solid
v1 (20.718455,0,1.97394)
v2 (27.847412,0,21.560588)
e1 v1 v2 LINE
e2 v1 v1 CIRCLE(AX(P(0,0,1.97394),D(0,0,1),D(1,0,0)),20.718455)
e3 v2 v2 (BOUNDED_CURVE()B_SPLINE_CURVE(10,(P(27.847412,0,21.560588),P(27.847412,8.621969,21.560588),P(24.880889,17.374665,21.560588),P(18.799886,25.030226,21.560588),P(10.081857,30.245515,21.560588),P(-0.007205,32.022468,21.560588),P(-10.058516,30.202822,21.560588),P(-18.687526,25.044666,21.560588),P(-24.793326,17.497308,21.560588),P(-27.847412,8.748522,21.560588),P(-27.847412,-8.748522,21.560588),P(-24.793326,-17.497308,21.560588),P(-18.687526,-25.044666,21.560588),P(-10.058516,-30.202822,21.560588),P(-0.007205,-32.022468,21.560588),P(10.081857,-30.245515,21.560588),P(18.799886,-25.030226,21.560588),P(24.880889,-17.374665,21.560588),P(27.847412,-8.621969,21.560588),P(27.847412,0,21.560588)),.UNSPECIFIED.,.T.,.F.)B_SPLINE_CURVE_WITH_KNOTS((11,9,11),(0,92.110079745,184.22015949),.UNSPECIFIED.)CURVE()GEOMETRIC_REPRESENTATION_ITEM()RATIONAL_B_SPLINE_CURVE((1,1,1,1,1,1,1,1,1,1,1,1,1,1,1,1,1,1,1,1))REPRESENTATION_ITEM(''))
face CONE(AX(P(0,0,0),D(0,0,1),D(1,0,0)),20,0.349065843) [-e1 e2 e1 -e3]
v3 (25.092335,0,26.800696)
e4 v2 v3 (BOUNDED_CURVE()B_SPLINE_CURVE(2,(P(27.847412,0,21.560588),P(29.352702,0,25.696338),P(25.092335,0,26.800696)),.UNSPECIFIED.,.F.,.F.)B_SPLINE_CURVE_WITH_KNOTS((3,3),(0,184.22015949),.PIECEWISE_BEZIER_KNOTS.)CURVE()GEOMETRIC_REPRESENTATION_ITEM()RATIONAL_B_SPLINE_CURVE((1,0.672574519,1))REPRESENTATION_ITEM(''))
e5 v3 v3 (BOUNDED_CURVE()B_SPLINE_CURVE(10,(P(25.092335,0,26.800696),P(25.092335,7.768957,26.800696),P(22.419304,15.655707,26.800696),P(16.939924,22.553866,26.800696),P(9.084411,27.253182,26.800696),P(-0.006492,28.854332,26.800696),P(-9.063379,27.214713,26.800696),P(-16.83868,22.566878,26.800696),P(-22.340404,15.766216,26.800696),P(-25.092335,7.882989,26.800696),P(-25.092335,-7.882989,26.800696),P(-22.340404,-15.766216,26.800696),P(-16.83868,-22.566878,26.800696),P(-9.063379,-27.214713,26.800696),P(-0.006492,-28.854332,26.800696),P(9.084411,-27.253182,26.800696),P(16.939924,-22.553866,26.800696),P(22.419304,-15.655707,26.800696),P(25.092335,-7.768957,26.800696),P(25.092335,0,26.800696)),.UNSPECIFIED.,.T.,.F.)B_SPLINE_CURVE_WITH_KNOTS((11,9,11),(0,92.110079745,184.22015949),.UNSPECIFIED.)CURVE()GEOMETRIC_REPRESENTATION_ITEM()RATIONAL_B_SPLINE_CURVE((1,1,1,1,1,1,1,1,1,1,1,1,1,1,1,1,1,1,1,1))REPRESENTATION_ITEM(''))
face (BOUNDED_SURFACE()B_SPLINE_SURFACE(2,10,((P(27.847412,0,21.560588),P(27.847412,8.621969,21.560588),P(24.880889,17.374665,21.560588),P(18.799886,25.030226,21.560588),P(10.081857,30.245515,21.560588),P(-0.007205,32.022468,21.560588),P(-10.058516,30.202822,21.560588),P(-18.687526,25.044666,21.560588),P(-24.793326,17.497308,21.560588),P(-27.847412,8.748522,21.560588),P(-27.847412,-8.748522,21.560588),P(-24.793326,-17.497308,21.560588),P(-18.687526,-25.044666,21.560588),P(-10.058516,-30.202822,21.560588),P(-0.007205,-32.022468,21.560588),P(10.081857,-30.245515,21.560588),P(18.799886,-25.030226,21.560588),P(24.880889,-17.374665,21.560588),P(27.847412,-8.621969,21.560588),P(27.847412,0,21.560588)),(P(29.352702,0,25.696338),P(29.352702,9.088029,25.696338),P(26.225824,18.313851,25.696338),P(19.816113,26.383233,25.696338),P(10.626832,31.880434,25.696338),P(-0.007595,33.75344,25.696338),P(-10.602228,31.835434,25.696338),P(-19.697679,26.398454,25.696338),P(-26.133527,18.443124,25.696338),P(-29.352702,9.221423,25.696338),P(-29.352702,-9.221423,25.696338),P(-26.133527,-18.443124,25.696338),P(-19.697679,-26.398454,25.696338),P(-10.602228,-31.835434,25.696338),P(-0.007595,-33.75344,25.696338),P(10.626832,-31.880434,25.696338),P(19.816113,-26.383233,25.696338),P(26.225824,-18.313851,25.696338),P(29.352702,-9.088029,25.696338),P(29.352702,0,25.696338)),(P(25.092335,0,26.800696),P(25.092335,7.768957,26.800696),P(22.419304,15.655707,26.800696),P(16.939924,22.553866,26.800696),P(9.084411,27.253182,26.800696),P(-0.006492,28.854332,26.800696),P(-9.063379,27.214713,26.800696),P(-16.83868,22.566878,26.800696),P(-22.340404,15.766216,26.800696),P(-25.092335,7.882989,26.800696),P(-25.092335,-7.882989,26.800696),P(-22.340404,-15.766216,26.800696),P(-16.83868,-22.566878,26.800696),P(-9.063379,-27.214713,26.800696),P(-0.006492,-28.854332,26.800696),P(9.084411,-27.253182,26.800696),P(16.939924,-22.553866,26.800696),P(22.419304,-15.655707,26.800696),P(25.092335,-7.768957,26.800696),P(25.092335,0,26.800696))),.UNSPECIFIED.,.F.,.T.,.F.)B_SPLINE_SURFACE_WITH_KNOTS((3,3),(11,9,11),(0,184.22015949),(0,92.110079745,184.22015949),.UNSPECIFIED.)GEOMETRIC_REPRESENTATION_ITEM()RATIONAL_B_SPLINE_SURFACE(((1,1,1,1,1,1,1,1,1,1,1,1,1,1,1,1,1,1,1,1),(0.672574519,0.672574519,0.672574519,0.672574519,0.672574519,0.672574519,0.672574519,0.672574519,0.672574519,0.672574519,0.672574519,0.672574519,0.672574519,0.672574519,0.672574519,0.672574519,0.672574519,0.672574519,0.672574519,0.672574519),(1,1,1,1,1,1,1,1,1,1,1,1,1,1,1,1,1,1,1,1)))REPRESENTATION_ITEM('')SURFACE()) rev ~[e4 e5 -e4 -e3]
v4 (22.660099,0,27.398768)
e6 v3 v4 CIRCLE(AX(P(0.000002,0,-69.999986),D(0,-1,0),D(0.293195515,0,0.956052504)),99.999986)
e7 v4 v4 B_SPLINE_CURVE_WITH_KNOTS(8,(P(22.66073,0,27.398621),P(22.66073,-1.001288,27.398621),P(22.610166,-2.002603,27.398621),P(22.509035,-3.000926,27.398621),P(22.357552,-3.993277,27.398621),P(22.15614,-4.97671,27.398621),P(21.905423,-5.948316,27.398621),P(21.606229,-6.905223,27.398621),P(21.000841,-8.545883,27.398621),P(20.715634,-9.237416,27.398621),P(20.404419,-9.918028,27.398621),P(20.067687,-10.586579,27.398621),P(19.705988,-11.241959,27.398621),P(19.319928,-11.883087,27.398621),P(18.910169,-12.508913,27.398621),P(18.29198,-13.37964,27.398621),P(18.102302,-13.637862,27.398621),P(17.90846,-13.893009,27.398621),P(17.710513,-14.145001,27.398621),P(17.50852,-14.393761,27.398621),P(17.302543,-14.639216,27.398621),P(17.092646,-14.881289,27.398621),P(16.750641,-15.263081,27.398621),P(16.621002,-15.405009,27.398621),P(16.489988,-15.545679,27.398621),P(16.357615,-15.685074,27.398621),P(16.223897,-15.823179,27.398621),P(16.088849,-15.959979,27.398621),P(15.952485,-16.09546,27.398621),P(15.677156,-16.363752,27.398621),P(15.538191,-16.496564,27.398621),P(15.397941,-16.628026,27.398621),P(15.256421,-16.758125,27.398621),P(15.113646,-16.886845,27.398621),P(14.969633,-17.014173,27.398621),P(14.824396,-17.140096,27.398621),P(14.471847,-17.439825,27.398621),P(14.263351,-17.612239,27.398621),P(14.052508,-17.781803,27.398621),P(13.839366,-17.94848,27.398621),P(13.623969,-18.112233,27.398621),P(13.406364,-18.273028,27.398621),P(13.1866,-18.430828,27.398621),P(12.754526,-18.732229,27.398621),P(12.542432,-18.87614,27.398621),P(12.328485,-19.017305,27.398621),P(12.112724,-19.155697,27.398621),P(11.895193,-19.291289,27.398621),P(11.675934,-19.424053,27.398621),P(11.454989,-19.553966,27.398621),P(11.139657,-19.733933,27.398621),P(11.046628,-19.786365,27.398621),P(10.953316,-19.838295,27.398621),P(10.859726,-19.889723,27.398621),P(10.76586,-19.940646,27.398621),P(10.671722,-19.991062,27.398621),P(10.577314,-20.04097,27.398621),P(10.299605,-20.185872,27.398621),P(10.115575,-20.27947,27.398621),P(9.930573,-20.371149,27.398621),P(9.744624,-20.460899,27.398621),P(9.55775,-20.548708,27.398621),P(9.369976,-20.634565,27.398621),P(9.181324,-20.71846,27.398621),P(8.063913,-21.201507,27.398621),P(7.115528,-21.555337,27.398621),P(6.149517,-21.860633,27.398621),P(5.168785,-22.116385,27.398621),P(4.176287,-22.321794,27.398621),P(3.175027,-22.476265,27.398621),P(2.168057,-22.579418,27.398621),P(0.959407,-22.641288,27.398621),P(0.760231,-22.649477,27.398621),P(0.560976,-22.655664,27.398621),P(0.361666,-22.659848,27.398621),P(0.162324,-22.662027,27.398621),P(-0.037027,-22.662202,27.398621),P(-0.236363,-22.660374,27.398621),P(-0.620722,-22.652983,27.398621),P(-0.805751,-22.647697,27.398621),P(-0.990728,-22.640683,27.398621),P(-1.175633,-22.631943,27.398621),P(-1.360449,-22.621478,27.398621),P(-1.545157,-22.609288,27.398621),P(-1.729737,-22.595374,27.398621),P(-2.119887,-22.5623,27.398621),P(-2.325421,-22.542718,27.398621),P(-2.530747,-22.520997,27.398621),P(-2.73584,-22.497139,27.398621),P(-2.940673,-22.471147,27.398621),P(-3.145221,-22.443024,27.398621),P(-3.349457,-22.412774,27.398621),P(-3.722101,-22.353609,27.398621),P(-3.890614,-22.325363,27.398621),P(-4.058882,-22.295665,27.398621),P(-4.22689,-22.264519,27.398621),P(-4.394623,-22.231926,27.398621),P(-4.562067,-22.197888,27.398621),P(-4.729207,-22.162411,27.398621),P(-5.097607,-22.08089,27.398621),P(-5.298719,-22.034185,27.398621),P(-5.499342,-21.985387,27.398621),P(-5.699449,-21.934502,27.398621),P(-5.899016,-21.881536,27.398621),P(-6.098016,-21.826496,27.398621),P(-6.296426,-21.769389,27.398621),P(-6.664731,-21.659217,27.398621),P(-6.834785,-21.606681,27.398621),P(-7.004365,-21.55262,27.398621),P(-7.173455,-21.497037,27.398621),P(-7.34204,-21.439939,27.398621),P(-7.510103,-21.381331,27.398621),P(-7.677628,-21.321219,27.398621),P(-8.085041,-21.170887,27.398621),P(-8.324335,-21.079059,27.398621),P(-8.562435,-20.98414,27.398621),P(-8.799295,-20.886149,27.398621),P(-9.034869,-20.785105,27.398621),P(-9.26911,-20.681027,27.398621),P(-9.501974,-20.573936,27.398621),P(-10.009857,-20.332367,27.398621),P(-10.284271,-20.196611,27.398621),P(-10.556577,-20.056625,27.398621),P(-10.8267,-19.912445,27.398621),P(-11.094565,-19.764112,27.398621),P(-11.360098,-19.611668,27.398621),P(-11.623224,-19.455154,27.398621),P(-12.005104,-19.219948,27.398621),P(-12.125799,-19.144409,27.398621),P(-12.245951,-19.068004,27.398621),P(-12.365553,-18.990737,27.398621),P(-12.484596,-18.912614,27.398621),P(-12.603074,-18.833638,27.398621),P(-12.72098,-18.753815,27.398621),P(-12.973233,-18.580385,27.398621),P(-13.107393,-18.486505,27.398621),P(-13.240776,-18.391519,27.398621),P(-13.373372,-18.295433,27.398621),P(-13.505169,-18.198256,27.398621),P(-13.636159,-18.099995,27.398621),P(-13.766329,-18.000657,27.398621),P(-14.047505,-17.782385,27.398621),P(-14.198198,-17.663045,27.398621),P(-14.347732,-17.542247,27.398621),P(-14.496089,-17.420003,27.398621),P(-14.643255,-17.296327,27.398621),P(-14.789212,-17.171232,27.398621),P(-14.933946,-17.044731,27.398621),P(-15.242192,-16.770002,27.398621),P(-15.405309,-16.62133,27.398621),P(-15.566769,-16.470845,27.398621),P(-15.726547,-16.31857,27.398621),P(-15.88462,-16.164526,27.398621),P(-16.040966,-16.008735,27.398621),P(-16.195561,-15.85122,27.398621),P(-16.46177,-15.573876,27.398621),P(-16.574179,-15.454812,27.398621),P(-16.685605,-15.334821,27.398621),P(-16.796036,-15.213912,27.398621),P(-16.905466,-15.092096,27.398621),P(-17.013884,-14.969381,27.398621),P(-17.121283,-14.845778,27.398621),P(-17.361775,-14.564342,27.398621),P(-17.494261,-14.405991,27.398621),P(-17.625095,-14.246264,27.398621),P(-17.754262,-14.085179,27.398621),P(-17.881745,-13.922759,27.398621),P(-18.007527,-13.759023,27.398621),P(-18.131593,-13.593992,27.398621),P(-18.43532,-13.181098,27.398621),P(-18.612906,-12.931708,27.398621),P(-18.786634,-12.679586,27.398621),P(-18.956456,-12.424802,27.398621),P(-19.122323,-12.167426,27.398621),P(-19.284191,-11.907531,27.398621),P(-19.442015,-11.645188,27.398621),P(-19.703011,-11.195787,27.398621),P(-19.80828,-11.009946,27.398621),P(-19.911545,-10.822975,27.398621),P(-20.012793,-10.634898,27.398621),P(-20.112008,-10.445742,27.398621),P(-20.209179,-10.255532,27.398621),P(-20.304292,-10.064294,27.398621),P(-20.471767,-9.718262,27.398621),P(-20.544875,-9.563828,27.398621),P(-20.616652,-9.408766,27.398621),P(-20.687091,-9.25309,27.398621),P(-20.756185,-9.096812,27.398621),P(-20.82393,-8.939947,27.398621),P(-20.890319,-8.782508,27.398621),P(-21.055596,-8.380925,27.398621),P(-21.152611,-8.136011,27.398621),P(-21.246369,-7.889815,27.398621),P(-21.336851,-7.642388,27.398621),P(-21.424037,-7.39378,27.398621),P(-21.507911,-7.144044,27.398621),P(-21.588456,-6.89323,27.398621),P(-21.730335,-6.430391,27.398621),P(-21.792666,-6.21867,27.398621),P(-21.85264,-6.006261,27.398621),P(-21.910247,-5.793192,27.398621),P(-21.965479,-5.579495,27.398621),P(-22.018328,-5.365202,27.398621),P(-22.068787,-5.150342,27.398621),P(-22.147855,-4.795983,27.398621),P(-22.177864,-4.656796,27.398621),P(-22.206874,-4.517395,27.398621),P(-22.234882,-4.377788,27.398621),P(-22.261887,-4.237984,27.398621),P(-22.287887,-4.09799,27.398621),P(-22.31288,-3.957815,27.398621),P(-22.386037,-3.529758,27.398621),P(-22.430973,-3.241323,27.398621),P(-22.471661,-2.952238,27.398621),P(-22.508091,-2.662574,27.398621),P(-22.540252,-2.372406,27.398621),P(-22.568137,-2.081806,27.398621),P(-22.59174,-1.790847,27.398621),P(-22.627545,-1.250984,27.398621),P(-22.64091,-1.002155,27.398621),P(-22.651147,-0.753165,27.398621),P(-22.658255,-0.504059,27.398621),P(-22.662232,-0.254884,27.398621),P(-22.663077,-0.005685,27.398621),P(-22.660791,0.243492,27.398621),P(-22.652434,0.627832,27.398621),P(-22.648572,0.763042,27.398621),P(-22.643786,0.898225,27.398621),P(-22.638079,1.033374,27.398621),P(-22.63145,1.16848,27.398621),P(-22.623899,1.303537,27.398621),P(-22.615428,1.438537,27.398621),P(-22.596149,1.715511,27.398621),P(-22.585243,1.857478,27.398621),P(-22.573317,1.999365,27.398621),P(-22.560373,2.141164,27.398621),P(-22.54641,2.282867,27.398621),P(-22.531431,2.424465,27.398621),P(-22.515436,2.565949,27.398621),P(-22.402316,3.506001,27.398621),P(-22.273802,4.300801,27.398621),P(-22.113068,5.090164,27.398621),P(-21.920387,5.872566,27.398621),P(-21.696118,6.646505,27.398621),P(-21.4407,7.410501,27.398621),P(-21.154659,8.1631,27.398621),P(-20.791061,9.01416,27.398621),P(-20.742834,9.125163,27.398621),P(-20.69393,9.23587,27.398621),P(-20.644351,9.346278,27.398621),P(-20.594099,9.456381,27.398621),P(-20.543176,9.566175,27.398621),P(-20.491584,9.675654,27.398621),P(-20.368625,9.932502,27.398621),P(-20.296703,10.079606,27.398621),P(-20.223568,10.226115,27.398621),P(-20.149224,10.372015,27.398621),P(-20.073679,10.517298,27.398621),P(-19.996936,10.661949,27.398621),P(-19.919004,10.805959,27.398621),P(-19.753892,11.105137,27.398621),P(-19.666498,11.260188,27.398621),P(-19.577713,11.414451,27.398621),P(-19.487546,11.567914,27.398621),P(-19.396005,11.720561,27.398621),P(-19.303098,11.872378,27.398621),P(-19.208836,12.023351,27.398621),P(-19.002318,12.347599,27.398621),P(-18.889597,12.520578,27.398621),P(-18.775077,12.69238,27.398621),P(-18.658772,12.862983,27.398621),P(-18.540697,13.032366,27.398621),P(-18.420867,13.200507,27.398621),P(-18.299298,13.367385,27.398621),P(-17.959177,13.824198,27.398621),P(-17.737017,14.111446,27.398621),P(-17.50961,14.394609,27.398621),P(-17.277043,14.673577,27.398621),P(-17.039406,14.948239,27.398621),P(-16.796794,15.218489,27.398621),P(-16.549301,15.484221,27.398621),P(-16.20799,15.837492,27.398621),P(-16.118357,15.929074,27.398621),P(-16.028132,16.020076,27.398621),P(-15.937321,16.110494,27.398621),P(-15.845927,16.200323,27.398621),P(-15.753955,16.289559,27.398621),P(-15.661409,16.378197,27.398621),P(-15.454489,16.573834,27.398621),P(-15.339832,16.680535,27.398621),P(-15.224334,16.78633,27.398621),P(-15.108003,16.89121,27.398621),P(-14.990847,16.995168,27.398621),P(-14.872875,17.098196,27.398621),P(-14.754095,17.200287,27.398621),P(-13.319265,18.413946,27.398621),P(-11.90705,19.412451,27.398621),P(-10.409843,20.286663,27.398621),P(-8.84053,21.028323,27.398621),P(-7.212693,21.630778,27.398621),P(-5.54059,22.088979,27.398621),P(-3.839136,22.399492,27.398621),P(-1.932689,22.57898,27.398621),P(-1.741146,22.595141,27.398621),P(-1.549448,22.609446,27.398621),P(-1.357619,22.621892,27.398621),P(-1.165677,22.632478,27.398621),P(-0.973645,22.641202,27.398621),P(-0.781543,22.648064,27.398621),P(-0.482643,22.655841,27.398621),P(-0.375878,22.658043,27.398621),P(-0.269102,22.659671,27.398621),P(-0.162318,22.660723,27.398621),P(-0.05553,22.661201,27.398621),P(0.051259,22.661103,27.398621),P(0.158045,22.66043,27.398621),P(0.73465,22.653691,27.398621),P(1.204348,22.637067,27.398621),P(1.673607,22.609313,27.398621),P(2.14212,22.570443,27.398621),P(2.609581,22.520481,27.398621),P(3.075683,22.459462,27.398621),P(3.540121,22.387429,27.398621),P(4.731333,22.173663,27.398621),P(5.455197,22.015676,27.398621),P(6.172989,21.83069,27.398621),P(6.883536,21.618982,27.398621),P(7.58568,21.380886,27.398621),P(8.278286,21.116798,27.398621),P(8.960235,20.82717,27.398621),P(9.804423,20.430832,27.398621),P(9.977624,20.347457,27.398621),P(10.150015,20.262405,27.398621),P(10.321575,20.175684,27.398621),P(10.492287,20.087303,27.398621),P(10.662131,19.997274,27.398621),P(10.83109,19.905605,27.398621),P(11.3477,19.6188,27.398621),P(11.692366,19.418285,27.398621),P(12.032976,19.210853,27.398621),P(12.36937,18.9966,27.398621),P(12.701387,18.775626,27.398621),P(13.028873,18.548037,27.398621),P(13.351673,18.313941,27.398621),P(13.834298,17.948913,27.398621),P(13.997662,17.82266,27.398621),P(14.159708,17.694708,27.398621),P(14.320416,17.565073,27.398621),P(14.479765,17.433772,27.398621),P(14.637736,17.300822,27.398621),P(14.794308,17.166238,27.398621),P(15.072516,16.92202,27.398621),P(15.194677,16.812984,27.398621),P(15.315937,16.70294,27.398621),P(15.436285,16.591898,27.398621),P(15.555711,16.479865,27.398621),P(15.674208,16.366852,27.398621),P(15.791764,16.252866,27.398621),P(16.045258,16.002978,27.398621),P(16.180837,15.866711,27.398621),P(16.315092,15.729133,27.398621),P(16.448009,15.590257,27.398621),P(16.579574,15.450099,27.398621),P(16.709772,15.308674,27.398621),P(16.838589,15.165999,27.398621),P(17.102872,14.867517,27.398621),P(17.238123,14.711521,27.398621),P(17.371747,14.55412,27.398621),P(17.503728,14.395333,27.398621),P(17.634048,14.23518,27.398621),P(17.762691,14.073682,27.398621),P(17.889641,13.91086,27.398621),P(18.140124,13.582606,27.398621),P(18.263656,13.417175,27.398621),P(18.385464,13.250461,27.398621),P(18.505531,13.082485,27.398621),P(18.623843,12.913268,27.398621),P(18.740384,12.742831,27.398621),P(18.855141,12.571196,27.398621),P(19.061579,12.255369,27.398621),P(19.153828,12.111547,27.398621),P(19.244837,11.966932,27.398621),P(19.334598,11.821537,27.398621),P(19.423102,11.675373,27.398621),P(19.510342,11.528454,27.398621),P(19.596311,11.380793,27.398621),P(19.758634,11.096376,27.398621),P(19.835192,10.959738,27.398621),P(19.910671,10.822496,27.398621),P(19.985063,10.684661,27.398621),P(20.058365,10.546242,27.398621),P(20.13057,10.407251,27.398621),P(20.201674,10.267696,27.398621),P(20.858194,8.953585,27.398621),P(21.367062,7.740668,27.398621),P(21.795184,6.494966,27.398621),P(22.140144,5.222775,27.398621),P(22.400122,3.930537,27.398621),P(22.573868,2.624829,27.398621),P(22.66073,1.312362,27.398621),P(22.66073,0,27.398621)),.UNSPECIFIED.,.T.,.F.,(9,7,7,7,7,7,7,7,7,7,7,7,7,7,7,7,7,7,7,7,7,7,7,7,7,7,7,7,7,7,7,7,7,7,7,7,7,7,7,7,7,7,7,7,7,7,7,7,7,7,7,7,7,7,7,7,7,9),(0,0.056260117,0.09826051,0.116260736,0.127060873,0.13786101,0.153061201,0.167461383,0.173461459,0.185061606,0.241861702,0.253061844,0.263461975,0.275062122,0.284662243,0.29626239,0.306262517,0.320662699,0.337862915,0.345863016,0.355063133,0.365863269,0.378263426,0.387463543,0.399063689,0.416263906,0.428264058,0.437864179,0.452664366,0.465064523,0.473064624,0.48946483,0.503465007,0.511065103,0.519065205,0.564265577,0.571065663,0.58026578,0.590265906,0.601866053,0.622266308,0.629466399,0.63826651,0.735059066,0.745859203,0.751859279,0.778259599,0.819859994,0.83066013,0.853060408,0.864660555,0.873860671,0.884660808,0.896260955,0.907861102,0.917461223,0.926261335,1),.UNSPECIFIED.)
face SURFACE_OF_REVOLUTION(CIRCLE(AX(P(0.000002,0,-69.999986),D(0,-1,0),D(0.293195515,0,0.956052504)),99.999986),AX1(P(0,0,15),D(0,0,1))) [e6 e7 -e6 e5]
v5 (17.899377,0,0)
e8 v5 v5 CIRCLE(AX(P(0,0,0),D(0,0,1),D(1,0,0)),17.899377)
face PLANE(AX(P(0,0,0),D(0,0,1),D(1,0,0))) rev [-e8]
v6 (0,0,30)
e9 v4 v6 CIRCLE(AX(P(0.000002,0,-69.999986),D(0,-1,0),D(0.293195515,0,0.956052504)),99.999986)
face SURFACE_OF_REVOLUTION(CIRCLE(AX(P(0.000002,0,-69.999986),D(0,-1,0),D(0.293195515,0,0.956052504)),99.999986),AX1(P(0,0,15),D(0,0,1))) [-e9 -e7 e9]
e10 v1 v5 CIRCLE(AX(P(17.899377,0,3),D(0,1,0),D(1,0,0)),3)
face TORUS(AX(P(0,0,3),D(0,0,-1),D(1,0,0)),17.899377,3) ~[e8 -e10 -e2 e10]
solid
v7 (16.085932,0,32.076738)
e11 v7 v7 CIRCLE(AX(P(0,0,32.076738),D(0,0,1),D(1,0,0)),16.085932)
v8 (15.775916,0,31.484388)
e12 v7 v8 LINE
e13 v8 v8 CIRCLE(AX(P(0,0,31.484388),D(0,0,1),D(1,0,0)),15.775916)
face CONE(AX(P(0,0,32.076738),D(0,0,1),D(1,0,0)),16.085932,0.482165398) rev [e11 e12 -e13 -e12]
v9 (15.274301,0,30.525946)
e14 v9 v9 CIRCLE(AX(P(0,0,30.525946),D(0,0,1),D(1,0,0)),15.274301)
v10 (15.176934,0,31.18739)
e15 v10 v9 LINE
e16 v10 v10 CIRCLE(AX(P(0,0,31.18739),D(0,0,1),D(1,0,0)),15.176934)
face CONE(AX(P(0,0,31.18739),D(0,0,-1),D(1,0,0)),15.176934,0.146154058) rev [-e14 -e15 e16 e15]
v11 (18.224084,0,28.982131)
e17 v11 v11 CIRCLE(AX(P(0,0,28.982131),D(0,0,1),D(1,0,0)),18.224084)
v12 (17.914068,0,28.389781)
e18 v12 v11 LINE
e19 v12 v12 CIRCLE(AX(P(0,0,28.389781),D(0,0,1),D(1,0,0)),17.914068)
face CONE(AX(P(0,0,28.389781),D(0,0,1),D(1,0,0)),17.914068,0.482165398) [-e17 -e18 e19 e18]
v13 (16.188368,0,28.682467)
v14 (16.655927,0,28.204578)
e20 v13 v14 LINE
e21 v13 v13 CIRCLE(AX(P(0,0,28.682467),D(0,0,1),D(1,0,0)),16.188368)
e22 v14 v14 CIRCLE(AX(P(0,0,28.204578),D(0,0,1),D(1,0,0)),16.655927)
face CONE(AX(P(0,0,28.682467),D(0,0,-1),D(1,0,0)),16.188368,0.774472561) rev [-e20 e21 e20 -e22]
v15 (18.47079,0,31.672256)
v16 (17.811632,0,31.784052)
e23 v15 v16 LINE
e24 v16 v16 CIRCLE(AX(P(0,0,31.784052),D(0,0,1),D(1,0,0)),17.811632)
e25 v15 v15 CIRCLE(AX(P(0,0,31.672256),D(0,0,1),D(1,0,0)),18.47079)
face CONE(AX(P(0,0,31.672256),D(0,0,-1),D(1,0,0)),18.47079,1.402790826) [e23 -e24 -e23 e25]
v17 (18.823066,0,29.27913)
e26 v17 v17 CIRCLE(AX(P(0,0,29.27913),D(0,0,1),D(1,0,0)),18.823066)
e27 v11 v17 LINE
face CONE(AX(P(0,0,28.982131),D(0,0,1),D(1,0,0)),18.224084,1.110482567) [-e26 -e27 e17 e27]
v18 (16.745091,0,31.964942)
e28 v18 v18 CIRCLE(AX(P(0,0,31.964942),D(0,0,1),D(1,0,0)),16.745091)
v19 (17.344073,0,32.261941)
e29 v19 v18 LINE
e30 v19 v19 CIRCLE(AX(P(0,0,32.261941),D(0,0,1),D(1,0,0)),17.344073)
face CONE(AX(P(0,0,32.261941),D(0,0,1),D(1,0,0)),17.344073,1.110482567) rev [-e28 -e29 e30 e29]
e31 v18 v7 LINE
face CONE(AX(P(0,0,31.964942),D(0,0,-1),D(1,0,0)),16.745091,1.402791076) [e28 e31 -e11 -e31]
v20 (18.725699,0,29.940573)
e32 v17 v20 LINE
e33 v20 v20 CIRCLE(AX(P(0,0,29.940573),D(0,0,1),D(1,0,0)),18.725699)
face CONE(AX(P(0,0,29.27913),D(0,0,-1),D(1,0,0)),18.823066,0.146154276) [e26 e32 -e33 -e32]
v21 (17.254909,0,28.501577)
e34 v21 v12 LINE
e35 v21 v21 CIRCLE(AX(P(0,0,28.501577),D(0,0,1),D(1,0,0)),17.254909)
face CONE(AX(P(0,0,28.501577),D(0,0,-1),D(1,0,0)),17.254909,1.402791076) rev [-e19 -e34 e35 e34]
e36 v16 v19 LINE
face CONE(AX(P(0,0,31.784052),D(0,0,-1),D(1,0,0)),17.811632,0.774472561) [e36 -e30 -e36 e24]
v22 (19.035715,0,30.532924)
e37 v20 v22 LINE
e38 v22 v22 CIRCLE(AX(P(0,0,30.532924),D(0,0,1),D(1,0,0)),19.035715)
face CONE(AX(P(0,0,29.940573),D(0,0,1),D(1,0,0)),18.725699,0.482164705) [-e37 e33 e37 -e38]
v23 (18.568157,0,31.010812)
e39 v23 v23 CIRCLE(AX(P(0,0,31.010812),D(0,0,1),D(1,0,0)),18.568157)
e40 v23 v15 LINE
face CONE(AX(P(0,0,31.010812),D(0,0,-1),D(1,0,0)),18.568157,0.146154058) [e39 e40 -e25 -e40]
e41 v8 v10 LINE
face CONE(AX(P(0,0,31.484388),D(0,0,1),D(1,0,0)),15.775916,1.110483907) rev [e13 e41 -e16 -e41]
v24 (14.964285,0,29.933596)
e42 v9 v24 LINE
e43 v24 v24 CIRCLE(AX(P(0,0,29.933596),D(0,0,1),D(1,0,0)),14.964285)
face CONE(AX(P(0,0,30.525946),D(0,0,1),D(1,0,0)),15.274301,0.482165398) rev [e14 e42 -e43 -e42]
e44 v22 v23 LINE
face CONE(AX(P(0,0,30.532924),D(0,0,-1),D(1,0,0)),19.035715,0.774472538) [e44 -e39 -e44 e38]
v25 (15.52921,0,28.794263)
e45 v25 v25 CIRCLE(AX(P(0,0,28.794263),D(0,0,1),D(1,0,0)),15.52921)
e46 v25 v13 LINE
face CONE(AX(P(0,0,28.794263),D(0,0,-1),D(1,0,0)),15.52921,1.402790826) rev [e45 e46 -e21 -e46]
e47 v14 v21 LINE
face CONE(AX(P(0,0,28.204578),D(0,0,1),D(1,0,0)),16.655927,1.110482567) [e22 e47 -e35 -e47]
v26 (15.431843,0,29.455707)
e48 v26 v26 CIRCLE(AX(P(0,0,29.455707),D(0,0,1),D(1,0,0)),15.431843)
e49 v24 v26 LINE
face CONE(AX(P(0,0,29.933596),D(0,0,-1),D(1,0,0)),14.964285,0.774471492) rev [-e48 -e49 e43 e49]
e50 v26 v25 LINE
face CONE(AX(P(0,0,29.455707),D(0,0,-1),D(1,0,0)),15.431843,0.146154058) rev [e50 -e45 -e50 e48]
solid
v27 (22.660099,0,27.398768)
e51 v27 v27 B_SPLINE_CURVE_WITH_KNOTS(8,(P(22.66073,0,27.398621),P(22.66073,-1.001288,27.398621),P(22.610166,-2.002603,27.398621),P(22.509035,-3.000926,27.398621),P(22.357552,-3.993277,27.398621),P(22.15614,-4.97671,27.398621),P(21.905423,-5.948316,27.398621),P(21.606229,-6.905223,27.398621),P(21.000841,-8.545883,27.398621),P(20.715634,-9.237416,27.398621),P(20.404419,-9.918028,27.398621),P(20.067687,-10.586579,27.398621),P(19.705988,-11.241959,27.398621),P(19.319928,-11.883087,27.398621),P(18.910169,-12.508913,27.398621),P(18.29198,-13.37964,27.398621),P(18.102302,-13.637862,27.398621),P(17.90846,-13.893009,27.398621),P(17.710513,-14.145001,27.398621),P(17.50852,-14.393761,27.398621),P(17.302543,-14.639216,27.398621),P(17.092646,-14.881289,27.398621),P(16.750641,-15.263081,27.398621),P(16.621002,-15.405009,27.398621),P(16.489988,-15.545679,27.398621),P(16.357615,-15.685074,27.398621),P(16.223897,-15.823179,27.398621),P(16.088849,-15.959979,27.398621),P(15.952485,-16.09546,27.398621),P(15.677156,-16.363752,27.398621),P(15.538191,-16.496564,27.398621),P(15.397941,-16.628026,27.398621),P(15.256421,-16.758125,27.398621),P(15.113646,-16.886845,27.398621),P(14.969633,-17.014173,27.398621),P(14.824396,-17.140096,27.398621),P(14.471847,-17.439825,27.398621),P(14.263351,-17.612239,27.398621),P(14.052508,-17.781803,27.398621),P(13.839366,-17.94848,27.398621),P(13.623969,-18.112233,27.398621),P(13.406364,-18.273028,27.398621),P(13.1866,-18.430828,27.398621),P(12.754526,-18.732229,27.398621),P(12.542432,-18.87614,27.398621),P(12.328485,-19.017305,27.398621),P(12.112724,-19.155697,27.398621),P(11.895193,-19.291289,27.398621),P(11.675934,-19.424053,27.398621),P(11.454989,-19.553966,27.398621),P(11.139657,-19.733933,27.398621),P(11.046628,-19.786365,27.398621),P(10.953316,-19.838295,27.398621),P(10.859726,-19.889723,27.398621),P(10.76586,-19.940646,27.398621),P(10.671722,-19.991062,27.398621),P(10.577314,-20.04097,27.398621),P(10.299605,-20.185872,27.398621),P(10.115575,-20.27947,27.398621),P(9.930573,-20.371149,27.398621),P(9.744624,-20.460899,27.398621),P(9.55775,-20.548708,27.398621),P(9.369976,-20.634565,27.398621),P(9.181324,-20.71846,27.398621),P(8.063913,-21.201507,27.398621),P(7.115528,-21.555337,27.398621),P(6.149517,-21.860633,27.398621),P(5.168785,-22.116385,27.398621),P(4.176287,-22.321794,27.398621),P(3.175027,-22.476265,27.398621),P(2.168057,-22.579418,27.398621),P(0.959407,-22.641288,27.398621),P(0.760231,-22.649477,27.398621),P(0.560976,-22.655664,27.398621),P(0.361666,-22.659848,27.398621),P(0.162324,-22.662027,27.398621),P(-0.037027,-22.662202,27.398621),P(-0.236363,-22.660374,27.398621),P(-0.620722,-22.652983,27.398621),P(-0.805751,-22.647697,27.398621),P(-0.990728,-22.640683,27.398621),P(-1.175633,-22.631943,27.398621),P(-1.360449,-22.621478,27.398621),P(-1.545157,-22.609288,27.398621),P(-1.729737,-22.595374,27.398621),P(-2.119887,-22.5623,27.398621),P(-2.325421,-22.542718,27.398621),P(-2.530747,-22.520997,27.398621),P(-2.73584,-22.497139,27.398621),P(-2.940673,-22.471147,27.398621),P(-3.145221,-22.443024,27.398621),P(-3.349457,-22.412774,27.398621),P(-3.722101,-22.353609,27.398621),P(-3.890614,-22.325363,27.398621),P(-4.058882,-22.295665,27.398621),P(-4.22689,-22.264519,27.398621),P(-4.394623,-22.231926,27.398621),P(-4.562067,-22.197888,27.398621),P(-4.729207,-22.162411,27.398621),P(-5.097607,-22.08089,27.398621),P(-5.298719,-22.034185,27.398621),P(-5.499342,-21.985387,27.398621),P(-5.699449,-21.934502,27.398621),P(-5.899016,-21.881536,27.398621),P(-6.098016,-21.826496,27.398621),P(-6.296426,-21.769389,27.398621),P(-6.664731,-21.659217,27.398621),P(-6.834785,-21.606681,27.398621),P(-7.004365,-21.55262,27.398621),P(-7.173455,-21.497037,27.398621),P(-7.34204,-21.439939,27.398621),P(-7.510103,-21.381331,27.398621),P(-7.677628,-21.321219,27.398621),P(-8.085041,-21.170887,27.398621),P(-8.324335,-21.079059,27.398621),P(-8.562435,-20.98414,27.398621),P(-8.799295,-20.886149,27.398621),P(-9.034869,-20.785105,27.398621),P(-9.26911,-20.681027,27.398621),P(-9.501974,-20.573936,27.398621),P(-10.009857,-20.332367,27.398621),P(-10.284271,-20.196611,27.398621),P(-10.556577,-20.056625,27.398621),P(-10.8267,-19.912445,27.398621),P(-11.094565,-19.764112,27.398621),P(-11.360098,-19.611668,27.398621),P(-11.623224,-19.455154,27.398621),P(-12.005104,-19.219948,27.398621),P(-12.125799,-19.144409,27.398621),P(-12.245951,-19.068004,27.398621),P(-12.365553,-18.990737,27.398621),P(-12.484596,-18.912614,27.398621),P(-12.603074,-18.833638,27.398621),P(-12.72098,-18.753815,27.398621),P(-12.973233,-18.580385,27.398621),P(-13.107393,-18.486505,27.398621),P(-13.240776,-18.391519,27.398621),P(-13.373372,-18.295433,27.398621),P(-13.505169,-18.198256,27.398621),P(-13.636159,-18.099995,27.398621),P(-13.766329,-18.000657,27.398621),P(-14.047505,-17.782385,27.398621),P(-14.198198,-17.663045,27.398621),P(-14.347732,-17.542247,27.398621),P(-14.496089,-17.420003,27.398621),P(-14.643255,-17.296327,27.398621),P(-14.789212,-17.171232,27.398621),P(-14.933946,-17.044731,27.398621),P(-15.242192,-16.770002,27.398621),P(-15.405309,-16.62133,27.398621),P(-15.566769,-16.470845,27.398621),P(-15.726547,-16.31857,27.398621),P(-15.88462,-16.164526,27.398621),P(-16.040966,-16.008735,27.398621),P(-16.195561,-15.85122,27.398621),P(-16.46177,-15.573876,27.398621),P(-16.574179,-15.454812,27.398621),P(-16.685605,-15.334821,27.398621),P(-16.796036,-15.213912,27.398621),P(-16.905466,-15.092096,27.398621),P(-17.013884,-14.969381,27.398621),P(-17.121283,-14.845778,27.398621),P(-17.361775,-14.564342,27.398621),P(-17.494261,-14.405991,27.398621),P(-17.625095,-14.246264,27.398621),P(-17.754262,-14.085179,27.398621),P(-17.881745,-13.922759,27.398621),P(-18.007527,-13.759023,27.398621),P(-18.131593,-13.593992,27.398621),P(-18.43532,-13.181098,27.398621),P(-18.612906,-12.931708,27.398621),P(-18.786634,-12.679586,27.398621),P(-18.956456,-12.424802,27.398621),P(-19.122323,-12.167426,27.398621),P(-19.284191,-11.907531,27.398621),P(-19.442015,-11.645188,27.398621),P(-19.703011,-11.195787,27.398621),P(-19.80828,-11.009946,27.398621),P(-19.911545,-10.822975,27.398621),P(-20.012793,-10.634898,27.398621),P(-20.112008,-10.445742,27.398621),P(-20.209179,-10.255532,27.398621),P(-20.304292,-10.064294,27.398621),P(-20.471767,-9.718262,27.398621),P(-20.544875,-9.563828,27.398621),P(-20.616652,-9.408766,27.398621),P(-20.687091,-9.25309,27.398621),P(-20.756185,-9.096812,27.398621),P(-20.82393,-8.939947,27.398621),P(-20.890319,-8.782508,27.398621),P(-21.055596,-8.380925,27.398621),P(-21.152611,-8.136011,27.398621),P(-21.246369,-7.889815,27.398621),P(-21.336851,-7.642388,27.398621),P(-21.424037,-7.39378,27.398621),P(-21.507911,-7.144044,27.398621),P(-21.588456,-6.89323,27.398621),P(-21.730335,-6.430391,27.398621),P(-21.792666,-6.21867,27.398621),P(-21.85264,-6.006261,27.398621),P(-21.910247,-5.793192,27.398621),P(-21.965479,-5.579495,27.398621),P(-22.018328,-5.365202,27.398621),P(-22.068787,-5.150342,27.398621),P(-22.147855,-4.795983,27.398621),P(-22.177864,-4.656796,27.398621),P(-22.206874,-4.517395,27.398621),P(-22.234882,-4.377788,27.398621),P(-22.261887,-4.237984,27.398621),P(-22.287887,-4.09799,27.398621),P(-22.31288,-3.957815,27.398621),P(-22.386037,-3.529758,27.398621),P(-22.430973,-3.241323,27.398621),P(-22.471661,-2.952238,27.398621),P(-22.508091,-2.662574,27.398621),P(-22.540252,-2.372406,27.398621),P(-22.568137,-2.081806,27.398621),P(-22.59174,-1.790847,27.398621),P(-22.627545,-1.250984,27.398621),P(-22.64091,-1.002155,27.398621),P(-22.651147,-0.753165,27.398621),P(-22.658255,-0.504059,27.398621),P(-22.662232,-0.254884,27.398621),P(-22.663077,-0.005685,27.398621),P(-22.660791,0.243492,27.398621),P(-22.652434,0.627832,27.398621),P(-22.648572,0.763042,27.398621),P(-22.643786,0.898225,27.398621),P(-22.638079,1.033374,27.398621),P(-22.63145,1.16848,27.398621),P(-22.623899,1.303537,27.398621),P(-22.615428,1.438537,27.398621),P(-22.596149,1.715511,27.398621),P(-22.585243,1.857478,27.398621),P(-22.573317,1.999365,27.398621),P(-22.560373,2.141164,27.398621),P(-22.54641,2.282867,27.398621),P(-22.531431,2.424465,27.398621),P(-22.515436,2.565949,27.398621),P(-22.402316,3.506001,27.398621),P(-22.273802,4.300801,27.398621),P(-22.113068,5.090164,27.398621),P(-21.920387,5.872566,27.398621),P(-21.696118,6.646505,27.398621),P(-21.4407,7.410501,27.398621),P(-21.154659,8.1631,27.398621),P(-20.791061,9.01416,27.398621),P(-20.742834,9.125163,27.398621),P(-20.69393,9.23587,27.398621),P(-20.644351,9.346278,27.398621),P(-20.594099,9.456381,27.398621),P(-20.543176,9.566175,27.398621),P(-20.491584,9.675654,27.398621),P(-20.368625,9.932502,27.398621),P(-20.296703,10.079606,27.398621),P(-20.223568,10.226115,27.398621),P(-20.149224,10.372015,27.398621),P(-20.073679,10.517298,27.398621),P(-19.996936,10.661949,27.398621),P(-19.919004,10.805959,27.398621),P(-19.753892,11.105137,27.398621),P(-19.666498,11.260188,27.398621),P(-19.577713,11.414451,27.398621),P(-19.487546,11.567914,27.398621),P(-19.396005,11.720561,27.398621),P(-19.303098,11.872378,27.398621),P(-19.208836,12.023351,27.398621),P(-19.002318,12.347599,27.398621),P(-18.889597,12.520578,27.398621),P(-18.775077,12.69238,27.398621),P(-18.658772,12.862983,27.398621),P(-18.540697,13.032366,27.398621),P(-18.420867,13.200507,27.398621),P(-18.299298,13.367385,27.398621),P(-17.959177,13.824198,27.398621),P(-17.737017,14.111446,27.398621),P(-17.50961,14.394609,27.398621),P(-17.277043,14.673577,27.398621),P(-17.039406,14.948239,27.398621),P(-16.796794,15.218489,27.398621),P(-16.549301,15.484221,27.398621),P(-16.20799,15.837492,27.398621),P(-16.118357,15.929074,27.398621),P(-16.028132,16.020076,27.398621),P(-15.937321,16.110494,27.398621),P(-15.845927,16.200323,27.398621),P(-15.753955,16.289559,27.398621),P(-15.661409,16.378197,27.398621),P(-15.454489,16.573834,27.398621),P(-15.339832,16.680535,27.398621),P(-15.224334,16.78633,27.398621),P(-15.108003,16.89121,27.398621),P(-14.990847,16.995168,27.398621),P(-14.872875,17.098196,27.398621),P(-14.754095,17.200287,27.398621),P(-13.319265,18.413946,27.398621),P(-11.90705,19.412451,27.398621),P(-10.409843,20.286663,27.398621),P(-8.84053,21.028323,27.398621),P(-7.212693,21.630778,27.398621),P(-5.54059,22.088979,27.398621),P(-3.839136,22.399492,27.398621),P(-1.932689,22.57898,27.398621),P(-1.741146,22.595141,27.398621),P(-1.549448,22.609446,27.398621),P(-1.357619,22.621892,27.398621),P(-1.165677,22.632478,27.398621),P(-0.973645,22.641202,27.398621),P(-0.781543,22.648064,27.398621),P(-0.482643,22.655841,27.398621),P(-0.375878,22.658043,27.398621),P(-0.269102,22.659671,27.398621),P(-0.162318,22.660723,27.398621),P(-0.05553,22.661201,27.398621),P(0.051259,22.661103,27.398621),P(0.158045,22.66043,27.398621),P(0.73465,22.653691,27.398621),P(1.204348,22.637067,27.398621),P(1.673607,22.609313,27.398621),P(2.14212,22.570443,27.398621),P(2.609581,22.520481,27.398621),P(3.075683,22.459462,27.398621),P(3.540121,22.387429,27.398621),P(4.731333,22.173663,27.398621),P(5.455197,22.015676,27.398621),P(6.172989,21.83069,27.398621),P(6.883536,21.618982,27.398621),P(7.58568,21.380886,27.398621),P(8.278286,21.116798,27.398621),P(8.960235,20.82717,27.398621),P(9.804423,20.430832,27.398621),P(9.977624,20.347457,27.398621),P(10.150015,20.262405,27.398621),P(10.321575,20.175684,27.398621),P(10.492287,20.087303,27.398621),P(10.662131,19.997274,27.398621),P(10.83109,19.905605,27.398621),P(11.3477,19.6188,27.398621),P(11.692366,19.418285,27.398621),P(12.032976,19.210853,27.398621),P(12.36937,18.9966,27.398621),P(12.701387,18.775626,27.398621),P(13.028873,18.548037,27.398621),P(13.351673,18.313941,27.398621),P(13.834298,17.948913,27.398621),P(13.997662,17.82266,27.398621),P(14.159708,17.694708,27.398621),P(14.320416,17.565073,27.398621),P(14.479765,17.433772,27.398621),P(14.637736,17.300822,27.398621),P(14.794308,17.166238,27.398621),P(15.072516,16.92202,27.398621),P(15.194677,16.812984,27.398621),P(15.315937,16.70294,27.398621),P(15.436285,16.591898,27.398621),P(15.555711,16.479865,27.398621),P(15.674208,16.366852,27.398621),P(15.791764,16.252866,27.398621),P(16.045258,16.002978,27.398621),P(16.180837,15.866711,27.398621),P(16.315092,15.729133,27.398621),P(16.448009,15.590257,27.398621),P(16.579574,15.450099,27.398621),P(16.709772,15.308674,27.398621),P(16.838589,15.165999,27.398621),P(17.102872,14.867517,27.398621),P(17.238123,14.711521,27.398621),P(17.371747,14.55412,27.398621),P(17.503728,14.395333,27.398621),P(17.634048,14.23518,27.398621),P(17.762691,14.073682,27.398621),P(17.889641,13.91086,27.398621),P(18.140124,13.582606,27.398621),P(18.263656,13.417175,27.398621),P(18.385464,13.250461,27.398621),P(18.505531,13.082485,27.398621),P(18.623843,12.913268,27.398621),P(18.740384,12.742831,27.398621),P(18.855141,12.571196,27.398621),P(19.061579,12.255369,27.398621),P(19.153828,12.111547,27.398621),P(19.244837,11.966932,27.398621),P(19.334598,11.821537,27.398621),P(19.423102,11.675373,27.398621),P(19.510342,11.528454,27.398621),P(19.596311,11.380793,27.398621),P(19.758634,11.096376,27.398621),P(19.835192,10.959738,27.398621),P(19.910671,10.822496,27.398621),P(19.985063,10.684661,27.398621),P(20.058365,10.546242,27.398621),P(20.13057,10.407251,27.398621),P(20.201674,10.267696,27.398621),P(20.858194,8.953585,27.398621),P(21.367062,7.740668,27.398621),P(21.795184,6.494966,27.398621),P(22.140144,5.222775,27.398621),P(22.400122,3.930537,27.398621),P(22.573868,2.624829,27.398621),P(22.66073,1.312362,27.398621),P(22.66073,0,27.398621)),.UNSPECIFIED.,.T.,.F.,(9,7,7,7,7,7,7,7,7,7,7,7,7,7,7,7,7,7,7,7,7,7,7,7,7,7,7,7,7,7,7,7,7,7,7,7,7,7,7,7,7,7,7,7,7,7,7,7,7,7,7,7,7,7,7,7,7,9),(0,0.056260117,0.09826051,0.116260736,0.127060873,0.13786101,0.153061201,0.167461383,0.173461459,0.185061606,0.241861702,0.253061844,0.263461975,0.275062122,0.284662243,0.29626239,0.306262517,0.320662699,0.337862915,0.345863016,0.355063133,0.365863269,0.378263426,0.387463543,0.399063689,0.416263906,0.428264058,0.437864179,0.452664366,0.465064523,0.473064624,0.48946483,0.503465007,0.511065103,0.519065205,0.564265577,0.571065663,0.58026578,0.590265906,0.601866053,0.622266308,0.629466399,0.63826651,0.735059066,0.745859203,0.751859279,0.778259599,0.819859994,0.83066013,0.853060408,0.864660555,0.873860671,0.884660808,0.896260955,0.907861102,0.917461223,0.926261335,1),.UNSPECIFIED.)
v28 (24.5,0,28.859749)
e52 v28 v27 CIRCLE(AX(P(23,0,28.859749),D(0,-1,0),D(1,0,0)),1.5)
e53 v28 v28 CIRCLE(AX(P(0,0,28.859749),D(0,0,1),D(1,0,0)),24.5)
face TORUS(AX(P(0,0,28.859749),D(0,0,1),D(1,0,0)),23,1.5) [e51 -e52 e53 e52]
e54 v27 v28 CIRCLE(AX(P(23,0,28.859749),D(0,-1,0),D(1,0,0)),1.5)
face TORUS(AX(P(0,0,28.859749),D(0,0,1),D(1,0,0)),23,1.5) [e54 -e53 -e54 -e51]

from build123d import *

# Parameters (mm, degrees)
F2_R = 3
F3_R = 4
F4_R = 1.5


with BuildPart() as f1:
    # F0 (on Front) → F1 (revolve)
    with BuildSketch(Plane.XZ):
        with BuildLine():
            Line((20, 0), (29.319549, 25.605251))
            ThreePointArc((29.319549, 25.605251), (14.823544, 28.89521), (0, 30))
            Line((0, 30), (0, 0))
            Line((0, 0), (20, 0))
        make_face()
    revolve(axis=Axis((0, 0, 15), (0, 0, 1)))

    # F2
    f2_edges = [f1.edges().sort_by_distance(p)[0] for p in [
        (-20, 0, 0),
    ]]
    fillet(f2_edges, radius=F2_R)

    # F3
    f3_edges = [f1.edges().sort_by_distance(p)[0] for p in [
        (-29.319549, 0, 25.605251),
    ]]
    fillet(f3_edges, radius=F3_R)

    # F4 (on Front) → F5 (revolve)
    with BuildSketch(Plane.XZ):
        with Locations((23, 28.859749)):
            Circle(F4_R)
    revolve(axis=Axis((0, 0, 15), (0, 0, 1)))


with BuildPart() as f6:
    # F4 (on Front) → F6 (revolve)
    with BuildSketch(Plane.XZ):
        Polygon((17.811632, 31.784052), (17.344073, 32.261941), (16.745091, 31.964942), (16.085932, 32.076738), (15.775916, 31.484388), (15.176934, 31.18739), (15.274301, 30.525946), (14.964285, 29.933596), (15.431843, 29.455707), (15.52921, 28.794263), (16.188368, 28.682467), (16.655927, 28.204578), (17.254909, 28.501577), (17.914068, 28.389781), (18.224084, 28.982131), (18.823066, 29.27913), (18.725699, 29.940573), (19.035715, 30.532924), (18.568157, 31.010812), (18.47079, 31.672256), align=None)
    revolve(axis=Axis((0, 0, 15), (0, 0, 1)))


solid = Compound([f1.part, f6.part])
